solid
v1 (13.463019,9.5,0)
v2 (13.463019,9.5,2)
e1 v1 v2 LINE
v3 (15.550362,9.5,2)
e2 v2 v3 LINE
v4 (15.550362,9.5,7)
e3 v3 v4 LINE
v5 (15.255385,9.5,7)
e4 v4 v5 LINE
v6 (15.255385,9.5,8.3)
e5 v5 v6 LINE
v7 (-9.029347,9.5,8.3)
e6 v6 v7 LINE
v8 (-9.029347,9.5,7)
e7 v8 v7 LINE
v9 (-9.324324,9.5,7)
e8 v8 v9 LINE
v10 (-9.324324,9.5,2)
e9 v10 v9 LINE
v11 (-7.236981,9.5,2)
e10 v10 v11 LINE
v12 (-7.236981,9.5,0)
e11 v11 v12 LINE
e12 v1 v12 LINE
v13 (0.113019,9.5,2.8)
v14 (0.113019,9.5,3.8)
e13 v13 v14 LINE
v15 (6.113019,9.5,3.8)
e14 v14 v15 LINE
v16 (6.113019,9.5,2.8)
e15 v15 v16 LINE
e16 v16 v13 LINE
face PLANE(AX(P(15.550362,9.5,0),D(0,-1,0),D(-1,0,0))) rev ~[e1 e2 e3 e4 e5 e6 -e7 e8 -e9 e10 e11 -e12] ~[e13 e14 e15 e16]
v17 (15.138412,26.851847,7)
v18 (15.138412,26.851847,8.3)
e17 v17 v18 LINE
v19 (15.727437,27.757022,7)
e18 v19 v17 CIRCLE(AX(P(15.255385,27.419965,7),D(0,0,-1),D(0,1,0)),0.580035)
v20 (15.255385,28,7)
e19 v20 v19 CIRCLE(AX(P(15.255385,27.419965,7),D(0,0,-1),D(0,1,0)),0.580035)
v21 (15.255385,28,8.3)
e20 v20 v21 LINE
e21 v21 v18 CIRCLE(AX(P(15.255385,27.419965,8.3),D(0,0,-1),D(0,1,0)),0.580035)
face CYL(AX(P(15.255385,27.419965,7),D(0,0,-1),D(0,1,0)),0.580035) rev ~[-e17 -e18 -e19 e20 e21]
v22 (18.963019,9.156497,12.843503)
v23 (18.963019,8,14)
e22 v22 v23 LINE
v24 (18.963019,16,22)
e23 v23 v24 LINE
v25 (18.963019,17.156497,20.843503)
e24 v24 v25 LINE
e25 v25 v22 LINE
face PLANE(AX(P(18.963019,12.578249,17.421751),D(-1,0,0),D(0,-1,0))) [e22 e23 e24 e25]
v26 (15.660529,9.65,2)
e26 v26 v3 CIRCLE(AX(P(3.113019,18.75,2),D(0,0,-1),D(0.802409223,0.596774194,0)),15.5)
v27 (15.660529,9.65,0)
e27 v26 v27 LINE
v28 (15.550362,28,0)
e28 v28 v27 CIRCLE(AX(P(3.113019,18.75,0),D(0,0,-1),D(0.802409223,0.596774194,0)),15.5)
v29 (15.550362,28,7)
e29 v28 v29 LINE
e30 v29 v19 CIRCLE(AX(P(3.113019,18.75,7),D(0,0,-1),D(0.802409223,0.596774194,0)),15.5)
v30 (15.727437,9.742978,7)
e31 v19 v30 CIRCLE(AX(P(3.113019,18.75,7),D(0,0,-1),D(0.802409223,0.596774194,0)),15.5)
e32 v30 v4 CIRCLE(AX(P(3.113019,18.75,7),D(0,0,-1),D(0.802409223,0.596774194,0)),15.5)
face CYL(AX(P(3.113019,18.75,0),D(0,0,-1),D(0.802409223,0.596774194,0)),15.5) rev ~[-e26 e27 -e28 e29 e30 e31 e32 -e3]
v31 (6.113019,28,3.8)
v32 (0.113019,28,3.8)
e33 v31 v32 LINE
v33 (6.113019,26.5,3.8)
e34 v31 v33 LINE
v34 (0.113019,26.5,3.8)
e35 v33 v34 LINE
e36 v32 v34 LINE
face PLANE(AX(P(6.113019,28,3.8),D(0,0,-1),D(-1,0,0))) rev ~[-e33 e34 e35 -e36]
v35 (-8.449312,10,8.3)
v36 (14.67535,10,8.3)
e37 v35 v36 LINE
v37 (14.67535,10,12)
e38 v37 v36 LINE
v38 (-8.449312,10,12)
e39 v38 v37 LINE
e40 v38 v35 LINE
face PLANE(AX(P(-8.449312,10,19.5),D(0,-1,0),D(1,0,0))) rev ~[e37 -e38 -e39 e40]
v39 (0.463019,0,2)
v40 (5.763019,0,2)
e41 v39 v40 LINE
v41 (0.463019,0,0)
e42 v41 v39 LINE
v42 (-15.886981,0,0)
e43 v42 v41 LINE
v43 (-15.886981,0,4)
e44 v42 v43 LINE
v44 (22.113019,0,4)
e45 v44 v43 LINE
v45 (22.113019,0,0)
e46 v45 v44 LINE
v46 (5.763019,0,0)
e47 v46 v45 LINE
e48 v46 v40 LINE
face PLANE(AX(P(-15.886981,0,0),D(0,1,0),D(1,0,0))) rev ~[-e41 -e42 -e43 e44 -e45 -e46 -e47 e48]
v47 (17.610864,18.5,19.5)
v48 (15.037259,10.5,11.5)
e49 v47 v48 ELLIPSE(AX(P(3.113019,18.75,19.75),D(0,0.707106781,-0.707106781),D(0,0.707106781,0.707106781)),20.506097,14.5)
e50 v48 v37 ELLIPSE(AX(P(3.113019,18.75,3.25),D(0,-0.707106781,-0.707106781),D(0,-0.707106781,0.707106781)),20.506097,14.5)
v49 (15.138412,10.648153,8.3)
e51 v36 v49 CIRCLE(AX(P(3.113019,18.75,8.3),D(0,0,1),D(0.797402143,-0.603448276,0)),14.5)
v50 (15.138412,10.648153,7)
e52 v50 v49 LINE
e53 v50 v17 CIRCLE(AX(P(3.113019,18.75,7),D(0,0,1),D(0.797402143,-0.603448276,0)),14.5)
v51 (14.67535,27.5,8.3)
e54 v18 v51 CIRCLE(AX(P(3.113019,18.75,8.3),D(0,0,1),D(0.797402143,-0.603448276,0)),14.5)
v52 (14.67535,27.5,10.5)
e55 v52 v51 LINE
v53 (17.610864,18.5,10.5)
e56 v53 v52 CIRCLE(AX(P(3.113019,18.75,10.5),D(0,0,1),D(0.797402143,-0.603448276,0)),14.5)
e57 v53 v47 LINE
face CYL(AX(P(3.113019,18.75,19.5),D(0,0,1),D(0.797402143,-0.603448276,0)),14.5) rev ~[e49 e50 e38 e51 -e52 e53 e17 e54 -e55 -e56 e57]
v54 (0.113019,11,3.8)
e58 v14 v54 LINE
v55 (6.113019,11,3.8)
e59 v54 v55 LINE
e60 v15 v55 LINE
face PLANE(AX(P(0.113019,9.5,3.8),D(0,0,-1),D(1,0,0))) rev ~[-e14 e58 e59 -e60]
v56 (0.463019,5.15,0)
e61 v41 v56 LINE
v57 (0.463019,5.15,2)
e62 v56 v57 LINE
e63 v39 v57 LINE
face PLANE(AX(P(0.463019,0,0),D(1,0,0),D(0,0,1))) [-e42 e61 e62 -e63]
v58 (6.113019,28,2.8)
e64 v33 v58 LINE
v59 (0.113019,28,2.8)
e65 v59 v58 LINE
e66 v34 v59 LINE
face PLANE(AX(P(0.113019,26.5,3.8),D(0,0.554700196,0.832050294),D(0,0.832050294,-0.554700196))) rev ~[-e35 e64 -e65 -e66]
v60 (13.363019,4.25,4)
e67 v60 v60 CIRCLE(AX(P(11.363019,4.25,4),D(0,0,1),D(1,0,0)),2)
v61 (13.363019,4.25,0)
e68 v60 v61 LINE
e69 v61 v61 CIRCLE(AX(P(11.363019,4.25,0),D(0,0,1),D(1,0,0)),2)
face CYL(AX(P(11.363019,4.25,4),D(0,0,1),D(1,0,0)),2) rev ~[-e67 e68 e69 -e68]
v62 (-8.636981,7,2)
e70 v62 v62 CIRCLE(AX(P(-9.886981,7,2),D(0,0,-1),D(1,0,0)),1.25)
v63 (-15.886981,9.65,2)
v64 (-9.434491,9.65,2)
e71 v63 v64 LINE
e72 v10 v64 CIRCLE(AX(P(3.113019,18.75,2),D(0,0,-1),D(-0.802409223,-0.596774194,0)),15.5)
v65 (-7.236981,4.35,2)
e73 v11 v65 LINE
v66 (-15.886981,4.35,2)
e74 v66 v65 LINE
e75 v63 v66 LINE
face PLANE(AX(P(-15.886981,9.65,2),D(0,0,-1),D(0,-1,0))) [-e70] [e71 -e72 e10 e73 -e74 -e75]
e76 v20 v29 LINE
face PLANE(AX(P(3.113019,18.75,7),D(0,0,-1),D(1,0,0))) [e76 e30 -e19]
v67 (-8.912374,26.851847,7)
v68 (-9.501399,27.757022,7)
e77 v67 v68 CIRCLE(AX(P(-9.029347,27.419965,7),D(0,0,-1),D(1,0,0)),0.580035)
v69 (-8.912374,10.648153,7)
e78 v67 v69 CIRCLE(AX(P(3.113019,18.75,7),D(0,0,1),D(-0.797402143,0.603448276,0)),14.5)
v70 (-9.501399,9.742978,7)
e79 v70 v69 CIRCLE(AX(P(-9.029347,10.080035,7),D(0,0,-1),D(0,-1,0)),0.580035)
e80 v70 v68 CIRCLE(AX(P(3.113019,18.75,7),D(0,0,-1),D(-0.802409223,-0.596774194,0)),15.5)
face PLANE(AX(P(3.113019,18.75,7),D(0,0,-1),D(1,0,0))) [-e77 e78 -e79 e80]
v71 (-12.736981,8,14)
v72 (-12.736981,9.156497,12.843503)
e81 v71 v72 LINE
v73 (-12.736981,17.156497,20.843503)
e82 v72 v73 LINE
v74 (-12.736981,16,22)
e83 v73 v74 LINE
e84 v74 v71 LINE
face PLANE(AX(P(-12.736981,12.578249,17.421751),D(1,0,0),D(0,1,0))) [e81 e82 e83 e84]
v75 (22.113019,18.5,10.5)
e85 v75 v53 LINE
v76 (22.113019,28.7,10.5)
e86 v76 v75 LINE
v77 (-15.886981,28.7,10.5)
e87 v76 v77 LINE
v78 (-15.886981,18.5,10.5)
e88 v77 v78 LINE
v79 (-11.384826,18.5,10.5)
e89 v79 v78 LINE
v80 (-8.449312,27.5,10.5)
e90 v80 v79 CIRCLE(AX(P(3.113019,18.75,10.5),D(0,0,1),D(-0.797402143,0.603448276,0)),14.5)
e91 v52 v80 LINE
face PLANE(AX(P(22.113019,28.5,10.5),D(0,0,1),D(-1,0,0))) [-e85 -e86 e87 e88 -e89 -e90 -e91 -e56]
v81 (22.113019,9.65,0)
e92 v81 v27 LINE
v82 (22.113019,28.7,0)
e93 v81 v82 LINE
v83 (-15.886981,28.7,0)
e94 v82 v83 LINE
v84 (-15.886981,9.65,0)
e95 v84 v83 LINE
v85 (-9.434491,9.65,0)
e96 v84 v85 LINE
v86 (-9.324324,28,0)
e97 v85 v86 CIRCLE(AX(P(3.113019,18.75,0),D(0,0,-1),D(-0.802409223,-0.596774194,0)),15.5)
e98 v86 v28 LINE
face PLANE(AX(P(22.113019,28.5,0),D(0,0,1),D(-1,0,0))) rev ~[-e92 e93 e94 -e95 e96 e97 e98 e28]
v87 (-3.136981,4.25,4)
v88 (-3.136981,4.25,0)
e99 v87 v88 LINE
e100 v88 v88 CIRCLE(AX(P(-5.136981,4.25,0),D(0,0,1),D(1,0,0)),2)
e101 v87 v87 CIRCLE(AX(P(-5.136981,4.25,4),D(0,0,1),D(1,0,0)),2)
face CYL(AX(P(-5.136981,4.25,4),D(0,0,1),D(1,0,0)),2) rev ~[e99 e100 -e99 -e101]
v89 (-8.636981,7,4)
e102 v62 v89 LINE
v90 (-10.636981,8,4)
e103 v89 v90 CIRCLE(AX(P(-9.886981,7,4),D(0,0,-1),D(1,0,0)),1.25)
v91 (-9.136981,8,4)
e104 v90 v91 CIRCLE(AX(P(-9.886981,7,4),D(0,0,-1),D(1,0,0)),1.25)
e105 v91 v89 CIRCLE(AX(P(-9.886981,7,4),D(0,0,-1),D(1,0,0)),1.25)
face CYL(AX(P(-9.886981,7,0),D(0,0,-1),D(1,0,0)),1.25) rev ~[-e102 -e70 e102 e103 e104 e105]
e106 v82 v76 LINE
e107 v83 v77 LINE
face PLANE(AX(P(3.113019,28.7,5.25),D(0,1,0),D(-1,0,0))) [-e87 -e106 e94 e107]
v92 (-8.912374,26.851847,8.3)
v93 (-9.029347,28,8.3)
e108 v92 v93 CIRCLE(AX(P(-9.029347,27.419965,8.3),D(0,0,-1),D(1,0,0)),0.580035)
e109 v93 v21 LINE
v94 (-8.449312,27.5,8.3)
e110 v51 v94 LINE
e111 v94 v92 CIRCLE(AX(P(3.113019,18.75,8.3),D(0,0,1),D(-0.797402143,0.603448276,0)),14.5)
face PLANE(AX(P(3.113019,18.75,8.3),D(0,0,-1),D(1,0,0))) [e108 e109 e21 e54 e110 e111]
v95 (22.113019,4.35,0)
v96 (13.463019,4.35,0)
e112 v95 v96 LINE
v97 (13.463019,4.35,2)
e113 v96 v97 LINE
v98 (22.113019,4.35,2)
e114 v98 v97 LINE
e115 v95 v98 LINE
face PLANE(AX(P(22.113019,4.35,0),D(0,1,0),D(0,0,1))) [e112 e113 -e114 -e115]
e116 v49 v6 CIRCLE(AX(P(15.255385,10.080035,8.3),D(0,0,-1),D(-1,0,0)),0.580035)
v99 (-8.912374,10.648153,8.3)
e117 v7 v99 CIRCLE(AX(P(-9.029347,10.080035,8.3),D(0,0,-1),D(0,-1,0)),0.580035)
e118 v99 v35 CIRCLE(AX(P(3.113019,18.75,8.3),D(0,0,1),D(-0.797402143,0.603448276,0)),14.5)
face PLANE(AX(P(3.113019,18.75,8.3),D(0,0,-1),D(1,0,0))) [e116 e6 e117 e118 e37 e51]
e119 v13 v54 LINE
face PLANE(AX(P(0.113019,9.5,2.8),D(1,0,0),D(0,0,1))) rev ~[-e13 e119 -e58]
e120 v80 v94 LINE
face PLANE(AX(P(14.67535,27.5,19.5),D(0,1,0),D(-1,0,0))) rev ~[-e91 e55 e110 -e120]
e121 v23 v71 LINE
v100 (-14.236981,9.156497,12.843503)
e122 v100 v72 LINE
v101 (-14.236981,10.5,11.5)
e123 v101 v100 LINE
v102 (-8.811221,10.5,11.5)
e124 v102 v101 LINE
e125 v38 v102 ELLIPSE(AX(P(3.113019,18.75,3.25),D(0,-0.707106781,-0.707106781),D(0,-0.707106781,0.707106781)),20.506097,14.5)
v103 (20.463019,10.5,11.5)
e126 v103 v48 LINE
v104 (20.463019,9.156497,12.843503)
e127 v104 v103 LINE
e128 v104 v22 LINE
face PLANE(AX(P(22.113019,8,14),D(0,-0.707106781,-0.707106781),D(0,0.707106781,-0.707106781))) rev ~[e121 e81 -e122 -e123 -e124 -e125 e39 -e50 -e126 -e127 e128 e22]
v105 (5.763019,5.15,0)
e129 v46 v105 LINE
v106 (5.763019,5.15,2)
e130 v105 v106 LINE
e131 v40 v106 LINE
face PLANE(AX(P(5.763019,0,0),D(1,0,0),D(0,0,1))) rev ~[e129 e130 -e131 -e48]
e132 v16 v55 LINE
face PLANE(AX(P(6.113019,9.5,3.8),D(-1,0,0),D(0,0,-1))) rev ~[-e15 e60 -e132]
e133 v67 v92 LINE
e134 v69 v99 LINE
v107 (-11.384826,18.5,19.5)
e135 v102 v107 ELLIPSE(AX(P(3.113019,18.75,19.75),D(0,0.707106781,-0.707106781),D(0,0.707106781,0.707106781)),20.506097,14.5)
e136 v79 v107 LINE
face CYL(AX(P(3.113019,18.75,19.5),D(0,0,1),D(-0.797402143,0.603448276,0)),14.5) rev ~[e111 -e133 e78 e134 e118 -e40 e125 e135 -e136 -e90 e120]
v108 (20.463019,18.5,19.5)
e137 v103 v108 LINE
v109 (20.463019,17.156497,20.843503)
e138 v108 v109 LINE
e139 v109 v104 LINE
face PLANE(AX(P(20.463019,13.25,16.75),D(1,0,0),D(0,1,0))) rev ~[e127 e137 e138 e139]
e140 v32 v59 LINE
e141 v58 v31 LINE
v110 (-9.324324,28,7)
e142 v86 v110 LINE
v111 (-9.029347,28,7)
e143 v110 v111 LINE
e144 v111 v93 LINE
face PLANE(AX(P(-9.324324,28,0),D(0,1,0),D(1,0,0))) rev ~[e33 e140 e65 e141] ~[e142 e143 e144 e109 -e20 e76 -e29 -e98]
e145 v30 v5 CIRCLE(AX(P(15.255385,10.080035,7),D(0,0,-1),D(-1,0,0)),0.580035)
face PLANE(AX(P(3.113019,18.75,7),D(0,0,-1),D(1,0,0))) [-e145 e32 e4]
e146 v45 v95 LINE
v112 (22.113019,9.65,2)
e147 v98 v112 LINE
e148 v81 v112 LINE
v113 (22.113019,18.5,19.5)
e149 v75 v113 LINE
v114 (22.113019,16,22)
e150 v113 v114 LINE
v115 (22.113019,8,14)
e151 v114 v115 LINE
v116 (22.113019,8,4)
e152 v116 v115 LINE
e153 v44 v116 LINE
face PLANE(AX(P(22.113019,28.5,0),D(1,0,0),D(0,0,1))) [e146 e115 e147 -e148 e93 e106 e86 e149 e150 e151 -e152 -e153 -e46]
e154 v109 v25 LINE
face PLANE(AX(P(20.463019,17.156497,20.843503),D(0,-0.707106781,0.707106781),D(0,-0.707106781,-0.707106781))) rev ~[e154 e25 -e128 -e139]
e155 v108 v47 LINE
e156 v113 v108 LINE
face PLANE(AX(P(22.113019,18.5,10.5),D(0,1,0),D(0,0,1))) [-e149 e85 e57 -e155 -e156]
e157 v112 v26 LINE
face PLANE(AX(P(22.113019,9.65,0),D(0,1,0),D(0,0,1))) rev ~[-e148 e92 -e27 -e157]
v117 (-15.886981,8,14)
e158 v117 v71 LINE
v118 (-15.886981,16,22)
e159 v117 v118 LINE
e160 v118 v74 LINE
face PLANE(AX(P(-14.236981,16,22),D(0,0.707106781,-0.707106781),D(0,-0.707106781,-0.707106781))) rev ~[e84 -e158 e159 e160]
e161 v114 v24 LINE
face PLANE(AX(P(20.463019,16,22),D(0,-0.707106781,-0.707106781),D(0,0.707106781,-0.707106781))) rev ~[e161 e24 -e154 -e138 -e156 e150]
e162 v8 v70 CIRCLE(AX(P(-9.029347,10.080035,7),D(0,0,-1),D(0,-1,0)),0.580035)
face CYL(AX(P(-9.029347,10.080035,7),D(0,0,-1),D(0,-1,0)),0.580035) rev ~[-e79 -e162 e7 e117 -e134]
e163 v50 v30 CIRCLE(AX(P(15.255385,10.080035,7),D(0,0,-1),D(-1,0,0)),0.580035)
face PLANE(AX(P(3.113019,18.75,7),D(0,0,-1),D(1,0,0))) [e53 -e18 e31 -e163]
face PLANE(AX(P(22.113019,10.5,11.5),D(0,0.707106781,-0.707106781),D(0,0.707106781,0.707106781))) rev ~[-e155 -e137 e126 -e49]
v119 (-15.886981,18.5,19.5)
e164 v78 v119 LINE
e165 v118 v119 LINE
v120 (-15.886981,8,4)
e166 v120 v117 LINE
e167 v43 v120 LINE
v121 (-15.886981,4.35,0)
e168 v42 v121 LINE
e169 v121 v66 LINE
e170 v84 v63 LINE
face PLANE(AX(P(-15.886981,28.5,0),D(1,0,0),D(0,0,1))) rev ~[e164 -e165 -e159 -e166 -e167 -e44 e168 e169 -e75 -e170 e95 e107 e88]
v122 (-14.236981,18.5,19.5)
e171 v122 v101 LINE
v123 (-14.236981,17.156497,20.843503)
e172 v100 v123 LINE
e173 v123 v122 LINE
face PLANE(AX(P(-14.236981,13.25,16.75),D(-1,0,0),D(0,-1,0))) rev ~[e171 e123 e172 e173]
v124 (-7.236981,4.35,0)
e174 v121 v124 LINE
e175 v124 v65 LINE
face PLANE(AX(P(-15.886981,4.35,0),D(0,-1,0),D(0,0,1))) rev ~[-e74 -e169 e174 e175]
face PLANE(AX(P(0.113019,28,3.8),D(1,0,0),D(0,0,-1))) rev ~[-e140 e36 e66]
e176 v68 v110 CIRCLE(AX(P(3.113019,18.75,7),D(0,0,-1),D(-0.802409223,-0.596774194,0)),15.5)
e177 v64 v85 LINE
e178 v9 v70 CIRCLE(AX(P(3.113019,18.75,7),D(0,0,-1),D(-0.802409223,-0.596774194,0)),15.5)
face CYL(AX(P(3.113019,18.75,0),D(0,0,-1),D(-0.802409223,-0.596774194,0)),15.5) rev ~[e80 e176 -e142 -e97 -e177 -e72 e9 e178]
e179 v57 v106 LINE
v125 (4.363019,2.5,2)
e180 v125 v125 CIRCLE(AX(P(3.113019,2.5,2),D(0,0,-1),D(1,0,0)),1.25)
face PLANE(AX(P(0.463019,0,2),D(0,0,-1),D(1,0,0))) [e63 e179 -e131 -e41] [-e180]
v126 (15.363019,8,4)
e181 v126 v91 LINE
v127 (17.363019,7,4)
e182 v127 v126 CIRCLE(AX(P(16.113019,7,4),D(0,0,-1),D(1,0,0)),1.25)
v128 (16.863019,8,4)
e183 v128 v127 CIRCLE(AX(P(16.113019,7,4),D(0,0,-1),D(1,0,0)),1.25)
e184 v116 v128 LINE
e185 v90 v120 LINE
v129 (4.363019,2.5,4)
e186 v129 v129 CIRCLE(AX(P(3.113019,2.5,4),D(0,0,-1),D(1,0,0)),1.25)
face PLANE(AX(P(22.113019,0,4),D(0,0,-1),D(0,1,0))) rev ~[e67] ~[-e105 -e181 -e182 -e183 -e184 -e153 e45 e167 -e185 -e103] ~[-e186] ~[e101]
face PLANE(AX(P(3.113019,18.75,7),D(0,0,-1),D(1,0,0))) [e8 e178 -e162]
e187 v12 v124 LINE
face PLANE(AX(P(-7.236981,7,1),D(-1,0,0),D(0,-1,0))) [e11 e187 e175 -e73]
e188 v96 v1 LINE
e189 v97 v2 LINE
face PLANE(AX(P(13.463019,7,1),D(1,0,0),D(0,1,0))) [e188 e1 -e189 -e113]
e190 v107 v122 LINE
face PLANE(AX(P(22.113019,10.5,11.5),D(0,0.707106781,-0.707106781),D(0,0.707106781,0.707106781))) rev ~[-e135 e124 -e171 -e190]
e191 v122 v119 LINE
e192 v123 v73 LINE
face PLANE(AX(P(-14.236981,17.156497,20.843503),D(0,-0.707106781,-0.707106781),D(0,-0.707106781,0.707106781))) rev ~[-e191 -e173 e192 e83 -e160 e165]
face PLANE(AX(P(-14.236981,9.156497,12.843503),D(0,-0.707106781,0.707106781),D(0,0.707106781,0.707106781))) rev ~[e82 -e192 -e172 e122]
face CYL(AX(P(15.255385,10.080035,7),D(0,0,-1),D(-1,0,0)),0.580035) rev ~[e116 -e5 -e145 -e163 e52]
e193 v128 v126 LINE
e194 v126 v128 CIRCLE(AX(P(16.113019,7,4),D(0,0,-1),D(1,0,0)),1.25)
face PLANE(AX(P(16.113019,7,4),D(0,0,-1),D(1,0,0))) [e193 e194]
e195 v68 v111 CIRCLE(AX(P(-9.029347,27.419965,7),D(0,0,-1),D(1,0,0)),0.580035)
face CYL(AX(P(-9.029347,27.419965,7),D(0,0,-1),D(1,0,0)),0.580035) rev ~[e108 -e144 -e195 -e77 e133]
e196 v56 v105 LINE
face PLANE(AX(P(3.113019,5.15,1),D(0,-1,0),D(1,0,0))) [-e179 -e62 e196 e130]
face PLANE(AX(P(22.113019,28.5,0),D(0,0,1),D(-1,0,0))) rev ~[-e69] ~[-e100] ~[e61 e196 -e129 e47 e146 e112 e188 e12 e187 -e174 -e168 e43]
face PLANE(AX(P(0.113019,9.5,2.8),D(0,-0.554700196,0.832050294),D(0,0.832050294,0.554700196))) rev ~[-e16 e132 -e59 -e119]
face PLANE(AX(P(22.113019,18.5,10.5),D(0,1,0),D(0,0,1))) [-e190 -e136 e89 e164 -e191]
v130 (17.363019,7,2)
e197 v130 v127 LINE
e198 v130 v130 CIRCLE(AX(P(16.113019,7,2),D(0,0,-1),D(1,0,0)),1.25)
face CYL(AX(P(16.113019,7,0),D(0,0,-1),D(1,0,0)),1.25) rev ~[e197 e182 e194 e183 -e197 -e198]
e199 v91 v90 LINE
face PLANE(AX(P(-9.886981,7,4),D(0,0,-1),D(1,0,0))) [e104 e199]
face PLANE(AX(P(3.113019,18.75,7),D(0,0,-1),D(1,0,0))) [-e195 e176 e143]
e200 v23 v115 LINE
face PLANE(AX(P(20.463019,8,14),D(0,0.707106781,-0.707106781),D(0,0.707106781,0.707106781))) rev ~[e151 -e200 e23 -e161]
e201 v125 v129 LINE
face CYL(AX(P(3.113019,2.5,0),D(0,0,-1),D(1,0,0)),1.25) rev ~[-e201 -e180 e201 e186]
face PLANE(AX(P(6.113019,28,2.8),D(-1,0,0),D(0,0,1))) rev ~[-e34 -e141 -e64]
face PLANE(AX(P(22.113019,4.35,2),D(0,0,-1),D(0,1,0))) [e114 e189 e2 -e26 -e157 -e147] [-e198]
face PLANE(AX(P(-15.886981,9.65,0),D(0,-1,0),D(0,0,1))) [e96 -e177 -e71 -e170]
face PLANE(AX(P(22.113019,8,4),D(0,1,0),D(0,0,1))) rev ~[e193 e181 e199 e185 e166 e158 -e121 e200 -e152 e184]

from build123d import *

# Parameters (mm, degrees)
F0_W      = 38
F0_H      = 28.5
F1_DEPTH  = 19.5
F2_W      = 8
F2_H      = 15.5
F4_DEPTH  = 38
F6_DEPTH  = 19.5
F3_W      = 10
F3_H      = 9
F7_DEPTH  = 38
F9_DEPTH  = 38
F11_DEPTH = 7
F12_R     = 2
F13_DEPTH = 4
F15_DEPTH = 1.65
F17_DEPTH = 1.5
F19_DEPTH = 1.65
F21_DEPTH = 1.5
F23_DEPTH = 1.5
F25_DEPTH = 6
F27_DEPTH = 1.5
F29_DEPTH = 6
F30_W     = 38
F30_H     = 10.5
F31_DEPTH = 0.2
F33_DEPTH = 1.3
F34_R     = 1.25
F35_DEPTH = 4
F36_W     = 5.3
F36_H     = 2
F37_DEPTH = 8.65
F38_W     = 5.3
F38_H     = 2
F39_DEPTH = 8.65
F40_W     = 5.3
F40_H     = 2
F41_DEPTH = 5.15


with BuildPart() as f1:
    # F0 (on Top) → F1 (new body)
    with BuildSketch(Plane.XY):
        with Locations((3.11301895, 14.25)):
            Rectangle(F0_W, F0_H)
    extrude(amount=F1_DEPTH)

    # F2 (on face) → F4 (cut)
    with BuildSketch(Plane.YZ.offset(22.11301895)):
        with Locations((4, 11.75)):
            Rectangle(F2_W, F2_H)
    extrude(amount=-F4_DEPTH, mode=Mode.SUBTRACT)

    # F5 (on face) → F6 (cut)
    with BuildSketch(Plane.XY.offset(19.5)):
        with BuildLine():
            ThreePointArc((-8.4493121299, 27.5), (-11.38698105, 18.75), (-8.4493121299, 10))
            Line((-8.4493121299, 10), (14.6753500298, 10))
            ThreePointArc((14.6753500298, 10), (17.61301895, 18.75), (14.6753500298, 27.5))
            Line((14.6753500298, 27.5), (-8.4493121299, 27.5))
        make_face()
    extrude(amount=-F6_DEPTH, mode=Mode.SUBTRACT)

    # F3 (on face) → F7 (cut)
    with BuildSketch(Plane.YZ.offset(22.11301895)):
        with Locations((23.5, 15)):
            Rectangle(F3_W, F3_H)
    extrude(amount=-F7_DEPTH, mode=Mode.SUBTRACT)

    # F8 (on face) → F9 (cut)
    with BuildSketch(Plane.YZ.offset(22.11301895)):
        Polygon((18.5, 19.5), (8, 19.5), (8, 14), (10.5, 11.5), align=None)
    extrude(amount=-F9_DEPTH, mode=Mode.SUBTRACT)

    # F10 (on face) → F11 (cut)
    with BuildSketch(Plane(origin=(0, 0, 0), x_dir=(1, 0, 0), z_dir=(0, 0, -1))):
        with BuildLine():
            Line((15.5503619138, -9.5), (-9.3243240138, -9.5))
            ThreePointArc((-9.3243240138, -9.5), (-12.38698105, -18.75), (-9.3243240138, -28))
            Line((-9.3243240138, -28), (15.5503619138, -28))
            ThreePointArc((15.5503619138, -28), (18.61301895, -18.75), (15.5503619138, -9.5))
        make_face()
    extrude(amount=-F11_DEPTH, mode=Mode.SUBTRACT)

    # F12 (on face) → F13 (cut)
    with BuildSketch(Plane.XY.offset(4)):
        with Locations((-5.13698105, 4.25)):
            Circle(F12_R)
        with Locations((11.36301895, 4.25)):
            Circle(F12_R)
    extrude(amount=-F13_DEPTH, mode=Mode.SUBTRACT)

    # F14 (on face) → F15 (join)
    with BuildSketch(Plane.YZ.offset(22.11301895)):
        Polygon((8, 14), (10.5, 11.5), (18.5, 19.5), (16, 22), align=None)
    extrude(amount=-F15_DEPTH)

    # F16 (on face) → F17 (join)
    with BuildSketch(Plane(origin=(20.46301895, 0, 0), x_dir=(0, -1, 0), z_dir=(-1, 0, 0))):
        Polygon((-9.1564971157, 12.8435028843), (-8, 14), (-16, 22), (-17.1564971157, 20.8435028843), align=None)
    extrude(amount=F17_DEPTH)

    # F18 (on face) → F19 (join)
    with BuildSketch(Plane(origin=(-15.88698105, 0, 0), x_dir=(0, -1, 0), z_dir=(-1, 0, 0))):
        Polygon((-18.5, 19.5), (-10.5, 11.5), (-8, 14), (-16, 22), align=None)
    extrude(amount=-F19_DEPTH)

    # F20 (on face) → F21 (join)
    with BuildSketch(Plane.YZ.offset(-14.23698105)):
        Polygon((17.1564971157, 20.8435028843), (16, 22), (8, 14), (9.1564971157, 12.8435028843), align=None)
    extrude(amount=F21_DEPTH)

    # F22 (on face) → F23 (join)
    with BuildSketch(Plane(origin=(0, 9.5, 0), x_dir=(-1, 0, 0), z_dir=(0, 1, 0))):
        Polygon((-0.11301895, 3.8), (-3.11301895, 3.8), (-6.11301895, 3.8), (-6.11301895, 2.8), (-0.11301895, 2.8), align=None)
    extrude(amount=F23_DEPTH)

    # F24 (on face) → F25 (cut)
    with BuildSketch(Plane(origin=(0.11301895, 0, 0), x_dir=(0, -1, 0), z_dir=(-1, 0, 0))):
        Polygon((-11, 2.8), (-9.5, 2.8), (-11, 3.8), align=None)
    extrude(amount=-F25_DEPTH, mode=Mode.SUBTRACT)

    # F26 (on face) → F27 (join)
    with BuildSketch(Plane.XZ.offset(-28)):
        Polygon((6.11301895, 3.8), (3.11301895, 3.8), (0.11301895, 3.8), (0.11301895, 2.8), (6.11301895, 2.8), align=None)
    extrude(amount=F27_DEPTH)

    # F28 (on face) → F29 (cut)
    with BuildSketch(Plane(origin=(0.11301895, 0, 0), x_dir=(0, -1, 0), z_dir=(-1, 0, 0))):
        Polygon((-26.5, 3.8), (-28, 2.8), (-26.5, 2.8), align=None)
    extrude(amount=-F29_DEPTH, mode=Mode.SUBTRACT)

    # F30 (on face) → F31 (join)
    with BuildSketch(Plane(origin=(0, 28.5, 0), x_dir=(-1, 0, 0), z_dir=(0, 1, 0))):
        with Locations((-3.11301895, 5.25)):
            Rectangle(F30_W, F30_H)
    extrude(amount=F31_DEPTH)

    # F32 (on face) → F33 (cut)
    with BuildSketch(Plane(origin=(0, 0, 7), x_dir=(1, 0, 0), z_dir=(0, 0, -1))):
        with BuildLine():
            ThreePointArc((-9.0293473605, -9.5), (-9.4394942054, -10.4901820755), (-8.4493121299, -10.0800352306))
            Line((-8.4493121299, -10.0800352306), (-8.4493121299, -27.4199647694))
            ThreePointArc((-8.4493121299, -27.4199647694), (-9.4394942054, -27.0098179245), (-9.0293473605, -28))
            Line((-9.0293473605, -28), (15.2553852604, -28))
            ThreePointArc((15.2553852604, -28), (15.6655321053, -27.0098179245), (14.6753500298, -27.4199647694))
            Line((14.6753500298, -27.4199647694), (14.6753500298, -10.0800352306))
            ThreePointArc((14.6753500298, -10.0800352306), (15.6655321053, -10.4901820755), (15.2553852604, -9.5))
            Line((15.2553852604, -9.5), (-9.0293473605, -9.5))
        make_face()
    extrude(amount=-F33_DEPTH, mode=Mode.SUBTRACT)

    # F34 (on face) → F35 (cut)
    with BuildSketch(Plane(origin=(0, 0, 0), x_dir=(1, 0, 0), z_dir=(0, 0, -1))):
        with Locations((-9.88698105, -7)):
            Circle(F34_R)
        with Locations((16.11301895, -7)):
            Circle(F34_R)
        with Locations((3.11301895, -2.5)):
            Circle(F34_R)
    extrude(amount=-F35_DEPTH, mode=Mode.SUBTRACT)

    # F36 (on face) → F37 (cut)
    with BuildSketch(Plane(origin=(-15.88698105, 0, 0), x_dir=(0, -1, 0), z_dir=(-1, 0, 0))):
        with Locations((-7, 1)):
            Rectangle(F36_W, F36_H)
    extrude(amount=-F37_DEPTH, mode=Mode.SUBTRACT)

    # F38 (on face) → F39 (cut)
    with BuildSketch(Plane.YZ.offset(22.11301895)):
        with Locations((7, 1)):
            Rectangle(F38_W, F38_H)
    extrude(amount=-F39_DEPTH, mode=Mode.SUBTRACT)

    # F40 (on face) → F41 (cut)
    with BuildSketch(Plane.XZ):
        with Locations((3.11301895, 1)):
            Rectangle(F40_W, F40_H)
    extrude(amount=-F41_DEPTH, mode=Mode.SUBTRACT)


solid = f1.part
